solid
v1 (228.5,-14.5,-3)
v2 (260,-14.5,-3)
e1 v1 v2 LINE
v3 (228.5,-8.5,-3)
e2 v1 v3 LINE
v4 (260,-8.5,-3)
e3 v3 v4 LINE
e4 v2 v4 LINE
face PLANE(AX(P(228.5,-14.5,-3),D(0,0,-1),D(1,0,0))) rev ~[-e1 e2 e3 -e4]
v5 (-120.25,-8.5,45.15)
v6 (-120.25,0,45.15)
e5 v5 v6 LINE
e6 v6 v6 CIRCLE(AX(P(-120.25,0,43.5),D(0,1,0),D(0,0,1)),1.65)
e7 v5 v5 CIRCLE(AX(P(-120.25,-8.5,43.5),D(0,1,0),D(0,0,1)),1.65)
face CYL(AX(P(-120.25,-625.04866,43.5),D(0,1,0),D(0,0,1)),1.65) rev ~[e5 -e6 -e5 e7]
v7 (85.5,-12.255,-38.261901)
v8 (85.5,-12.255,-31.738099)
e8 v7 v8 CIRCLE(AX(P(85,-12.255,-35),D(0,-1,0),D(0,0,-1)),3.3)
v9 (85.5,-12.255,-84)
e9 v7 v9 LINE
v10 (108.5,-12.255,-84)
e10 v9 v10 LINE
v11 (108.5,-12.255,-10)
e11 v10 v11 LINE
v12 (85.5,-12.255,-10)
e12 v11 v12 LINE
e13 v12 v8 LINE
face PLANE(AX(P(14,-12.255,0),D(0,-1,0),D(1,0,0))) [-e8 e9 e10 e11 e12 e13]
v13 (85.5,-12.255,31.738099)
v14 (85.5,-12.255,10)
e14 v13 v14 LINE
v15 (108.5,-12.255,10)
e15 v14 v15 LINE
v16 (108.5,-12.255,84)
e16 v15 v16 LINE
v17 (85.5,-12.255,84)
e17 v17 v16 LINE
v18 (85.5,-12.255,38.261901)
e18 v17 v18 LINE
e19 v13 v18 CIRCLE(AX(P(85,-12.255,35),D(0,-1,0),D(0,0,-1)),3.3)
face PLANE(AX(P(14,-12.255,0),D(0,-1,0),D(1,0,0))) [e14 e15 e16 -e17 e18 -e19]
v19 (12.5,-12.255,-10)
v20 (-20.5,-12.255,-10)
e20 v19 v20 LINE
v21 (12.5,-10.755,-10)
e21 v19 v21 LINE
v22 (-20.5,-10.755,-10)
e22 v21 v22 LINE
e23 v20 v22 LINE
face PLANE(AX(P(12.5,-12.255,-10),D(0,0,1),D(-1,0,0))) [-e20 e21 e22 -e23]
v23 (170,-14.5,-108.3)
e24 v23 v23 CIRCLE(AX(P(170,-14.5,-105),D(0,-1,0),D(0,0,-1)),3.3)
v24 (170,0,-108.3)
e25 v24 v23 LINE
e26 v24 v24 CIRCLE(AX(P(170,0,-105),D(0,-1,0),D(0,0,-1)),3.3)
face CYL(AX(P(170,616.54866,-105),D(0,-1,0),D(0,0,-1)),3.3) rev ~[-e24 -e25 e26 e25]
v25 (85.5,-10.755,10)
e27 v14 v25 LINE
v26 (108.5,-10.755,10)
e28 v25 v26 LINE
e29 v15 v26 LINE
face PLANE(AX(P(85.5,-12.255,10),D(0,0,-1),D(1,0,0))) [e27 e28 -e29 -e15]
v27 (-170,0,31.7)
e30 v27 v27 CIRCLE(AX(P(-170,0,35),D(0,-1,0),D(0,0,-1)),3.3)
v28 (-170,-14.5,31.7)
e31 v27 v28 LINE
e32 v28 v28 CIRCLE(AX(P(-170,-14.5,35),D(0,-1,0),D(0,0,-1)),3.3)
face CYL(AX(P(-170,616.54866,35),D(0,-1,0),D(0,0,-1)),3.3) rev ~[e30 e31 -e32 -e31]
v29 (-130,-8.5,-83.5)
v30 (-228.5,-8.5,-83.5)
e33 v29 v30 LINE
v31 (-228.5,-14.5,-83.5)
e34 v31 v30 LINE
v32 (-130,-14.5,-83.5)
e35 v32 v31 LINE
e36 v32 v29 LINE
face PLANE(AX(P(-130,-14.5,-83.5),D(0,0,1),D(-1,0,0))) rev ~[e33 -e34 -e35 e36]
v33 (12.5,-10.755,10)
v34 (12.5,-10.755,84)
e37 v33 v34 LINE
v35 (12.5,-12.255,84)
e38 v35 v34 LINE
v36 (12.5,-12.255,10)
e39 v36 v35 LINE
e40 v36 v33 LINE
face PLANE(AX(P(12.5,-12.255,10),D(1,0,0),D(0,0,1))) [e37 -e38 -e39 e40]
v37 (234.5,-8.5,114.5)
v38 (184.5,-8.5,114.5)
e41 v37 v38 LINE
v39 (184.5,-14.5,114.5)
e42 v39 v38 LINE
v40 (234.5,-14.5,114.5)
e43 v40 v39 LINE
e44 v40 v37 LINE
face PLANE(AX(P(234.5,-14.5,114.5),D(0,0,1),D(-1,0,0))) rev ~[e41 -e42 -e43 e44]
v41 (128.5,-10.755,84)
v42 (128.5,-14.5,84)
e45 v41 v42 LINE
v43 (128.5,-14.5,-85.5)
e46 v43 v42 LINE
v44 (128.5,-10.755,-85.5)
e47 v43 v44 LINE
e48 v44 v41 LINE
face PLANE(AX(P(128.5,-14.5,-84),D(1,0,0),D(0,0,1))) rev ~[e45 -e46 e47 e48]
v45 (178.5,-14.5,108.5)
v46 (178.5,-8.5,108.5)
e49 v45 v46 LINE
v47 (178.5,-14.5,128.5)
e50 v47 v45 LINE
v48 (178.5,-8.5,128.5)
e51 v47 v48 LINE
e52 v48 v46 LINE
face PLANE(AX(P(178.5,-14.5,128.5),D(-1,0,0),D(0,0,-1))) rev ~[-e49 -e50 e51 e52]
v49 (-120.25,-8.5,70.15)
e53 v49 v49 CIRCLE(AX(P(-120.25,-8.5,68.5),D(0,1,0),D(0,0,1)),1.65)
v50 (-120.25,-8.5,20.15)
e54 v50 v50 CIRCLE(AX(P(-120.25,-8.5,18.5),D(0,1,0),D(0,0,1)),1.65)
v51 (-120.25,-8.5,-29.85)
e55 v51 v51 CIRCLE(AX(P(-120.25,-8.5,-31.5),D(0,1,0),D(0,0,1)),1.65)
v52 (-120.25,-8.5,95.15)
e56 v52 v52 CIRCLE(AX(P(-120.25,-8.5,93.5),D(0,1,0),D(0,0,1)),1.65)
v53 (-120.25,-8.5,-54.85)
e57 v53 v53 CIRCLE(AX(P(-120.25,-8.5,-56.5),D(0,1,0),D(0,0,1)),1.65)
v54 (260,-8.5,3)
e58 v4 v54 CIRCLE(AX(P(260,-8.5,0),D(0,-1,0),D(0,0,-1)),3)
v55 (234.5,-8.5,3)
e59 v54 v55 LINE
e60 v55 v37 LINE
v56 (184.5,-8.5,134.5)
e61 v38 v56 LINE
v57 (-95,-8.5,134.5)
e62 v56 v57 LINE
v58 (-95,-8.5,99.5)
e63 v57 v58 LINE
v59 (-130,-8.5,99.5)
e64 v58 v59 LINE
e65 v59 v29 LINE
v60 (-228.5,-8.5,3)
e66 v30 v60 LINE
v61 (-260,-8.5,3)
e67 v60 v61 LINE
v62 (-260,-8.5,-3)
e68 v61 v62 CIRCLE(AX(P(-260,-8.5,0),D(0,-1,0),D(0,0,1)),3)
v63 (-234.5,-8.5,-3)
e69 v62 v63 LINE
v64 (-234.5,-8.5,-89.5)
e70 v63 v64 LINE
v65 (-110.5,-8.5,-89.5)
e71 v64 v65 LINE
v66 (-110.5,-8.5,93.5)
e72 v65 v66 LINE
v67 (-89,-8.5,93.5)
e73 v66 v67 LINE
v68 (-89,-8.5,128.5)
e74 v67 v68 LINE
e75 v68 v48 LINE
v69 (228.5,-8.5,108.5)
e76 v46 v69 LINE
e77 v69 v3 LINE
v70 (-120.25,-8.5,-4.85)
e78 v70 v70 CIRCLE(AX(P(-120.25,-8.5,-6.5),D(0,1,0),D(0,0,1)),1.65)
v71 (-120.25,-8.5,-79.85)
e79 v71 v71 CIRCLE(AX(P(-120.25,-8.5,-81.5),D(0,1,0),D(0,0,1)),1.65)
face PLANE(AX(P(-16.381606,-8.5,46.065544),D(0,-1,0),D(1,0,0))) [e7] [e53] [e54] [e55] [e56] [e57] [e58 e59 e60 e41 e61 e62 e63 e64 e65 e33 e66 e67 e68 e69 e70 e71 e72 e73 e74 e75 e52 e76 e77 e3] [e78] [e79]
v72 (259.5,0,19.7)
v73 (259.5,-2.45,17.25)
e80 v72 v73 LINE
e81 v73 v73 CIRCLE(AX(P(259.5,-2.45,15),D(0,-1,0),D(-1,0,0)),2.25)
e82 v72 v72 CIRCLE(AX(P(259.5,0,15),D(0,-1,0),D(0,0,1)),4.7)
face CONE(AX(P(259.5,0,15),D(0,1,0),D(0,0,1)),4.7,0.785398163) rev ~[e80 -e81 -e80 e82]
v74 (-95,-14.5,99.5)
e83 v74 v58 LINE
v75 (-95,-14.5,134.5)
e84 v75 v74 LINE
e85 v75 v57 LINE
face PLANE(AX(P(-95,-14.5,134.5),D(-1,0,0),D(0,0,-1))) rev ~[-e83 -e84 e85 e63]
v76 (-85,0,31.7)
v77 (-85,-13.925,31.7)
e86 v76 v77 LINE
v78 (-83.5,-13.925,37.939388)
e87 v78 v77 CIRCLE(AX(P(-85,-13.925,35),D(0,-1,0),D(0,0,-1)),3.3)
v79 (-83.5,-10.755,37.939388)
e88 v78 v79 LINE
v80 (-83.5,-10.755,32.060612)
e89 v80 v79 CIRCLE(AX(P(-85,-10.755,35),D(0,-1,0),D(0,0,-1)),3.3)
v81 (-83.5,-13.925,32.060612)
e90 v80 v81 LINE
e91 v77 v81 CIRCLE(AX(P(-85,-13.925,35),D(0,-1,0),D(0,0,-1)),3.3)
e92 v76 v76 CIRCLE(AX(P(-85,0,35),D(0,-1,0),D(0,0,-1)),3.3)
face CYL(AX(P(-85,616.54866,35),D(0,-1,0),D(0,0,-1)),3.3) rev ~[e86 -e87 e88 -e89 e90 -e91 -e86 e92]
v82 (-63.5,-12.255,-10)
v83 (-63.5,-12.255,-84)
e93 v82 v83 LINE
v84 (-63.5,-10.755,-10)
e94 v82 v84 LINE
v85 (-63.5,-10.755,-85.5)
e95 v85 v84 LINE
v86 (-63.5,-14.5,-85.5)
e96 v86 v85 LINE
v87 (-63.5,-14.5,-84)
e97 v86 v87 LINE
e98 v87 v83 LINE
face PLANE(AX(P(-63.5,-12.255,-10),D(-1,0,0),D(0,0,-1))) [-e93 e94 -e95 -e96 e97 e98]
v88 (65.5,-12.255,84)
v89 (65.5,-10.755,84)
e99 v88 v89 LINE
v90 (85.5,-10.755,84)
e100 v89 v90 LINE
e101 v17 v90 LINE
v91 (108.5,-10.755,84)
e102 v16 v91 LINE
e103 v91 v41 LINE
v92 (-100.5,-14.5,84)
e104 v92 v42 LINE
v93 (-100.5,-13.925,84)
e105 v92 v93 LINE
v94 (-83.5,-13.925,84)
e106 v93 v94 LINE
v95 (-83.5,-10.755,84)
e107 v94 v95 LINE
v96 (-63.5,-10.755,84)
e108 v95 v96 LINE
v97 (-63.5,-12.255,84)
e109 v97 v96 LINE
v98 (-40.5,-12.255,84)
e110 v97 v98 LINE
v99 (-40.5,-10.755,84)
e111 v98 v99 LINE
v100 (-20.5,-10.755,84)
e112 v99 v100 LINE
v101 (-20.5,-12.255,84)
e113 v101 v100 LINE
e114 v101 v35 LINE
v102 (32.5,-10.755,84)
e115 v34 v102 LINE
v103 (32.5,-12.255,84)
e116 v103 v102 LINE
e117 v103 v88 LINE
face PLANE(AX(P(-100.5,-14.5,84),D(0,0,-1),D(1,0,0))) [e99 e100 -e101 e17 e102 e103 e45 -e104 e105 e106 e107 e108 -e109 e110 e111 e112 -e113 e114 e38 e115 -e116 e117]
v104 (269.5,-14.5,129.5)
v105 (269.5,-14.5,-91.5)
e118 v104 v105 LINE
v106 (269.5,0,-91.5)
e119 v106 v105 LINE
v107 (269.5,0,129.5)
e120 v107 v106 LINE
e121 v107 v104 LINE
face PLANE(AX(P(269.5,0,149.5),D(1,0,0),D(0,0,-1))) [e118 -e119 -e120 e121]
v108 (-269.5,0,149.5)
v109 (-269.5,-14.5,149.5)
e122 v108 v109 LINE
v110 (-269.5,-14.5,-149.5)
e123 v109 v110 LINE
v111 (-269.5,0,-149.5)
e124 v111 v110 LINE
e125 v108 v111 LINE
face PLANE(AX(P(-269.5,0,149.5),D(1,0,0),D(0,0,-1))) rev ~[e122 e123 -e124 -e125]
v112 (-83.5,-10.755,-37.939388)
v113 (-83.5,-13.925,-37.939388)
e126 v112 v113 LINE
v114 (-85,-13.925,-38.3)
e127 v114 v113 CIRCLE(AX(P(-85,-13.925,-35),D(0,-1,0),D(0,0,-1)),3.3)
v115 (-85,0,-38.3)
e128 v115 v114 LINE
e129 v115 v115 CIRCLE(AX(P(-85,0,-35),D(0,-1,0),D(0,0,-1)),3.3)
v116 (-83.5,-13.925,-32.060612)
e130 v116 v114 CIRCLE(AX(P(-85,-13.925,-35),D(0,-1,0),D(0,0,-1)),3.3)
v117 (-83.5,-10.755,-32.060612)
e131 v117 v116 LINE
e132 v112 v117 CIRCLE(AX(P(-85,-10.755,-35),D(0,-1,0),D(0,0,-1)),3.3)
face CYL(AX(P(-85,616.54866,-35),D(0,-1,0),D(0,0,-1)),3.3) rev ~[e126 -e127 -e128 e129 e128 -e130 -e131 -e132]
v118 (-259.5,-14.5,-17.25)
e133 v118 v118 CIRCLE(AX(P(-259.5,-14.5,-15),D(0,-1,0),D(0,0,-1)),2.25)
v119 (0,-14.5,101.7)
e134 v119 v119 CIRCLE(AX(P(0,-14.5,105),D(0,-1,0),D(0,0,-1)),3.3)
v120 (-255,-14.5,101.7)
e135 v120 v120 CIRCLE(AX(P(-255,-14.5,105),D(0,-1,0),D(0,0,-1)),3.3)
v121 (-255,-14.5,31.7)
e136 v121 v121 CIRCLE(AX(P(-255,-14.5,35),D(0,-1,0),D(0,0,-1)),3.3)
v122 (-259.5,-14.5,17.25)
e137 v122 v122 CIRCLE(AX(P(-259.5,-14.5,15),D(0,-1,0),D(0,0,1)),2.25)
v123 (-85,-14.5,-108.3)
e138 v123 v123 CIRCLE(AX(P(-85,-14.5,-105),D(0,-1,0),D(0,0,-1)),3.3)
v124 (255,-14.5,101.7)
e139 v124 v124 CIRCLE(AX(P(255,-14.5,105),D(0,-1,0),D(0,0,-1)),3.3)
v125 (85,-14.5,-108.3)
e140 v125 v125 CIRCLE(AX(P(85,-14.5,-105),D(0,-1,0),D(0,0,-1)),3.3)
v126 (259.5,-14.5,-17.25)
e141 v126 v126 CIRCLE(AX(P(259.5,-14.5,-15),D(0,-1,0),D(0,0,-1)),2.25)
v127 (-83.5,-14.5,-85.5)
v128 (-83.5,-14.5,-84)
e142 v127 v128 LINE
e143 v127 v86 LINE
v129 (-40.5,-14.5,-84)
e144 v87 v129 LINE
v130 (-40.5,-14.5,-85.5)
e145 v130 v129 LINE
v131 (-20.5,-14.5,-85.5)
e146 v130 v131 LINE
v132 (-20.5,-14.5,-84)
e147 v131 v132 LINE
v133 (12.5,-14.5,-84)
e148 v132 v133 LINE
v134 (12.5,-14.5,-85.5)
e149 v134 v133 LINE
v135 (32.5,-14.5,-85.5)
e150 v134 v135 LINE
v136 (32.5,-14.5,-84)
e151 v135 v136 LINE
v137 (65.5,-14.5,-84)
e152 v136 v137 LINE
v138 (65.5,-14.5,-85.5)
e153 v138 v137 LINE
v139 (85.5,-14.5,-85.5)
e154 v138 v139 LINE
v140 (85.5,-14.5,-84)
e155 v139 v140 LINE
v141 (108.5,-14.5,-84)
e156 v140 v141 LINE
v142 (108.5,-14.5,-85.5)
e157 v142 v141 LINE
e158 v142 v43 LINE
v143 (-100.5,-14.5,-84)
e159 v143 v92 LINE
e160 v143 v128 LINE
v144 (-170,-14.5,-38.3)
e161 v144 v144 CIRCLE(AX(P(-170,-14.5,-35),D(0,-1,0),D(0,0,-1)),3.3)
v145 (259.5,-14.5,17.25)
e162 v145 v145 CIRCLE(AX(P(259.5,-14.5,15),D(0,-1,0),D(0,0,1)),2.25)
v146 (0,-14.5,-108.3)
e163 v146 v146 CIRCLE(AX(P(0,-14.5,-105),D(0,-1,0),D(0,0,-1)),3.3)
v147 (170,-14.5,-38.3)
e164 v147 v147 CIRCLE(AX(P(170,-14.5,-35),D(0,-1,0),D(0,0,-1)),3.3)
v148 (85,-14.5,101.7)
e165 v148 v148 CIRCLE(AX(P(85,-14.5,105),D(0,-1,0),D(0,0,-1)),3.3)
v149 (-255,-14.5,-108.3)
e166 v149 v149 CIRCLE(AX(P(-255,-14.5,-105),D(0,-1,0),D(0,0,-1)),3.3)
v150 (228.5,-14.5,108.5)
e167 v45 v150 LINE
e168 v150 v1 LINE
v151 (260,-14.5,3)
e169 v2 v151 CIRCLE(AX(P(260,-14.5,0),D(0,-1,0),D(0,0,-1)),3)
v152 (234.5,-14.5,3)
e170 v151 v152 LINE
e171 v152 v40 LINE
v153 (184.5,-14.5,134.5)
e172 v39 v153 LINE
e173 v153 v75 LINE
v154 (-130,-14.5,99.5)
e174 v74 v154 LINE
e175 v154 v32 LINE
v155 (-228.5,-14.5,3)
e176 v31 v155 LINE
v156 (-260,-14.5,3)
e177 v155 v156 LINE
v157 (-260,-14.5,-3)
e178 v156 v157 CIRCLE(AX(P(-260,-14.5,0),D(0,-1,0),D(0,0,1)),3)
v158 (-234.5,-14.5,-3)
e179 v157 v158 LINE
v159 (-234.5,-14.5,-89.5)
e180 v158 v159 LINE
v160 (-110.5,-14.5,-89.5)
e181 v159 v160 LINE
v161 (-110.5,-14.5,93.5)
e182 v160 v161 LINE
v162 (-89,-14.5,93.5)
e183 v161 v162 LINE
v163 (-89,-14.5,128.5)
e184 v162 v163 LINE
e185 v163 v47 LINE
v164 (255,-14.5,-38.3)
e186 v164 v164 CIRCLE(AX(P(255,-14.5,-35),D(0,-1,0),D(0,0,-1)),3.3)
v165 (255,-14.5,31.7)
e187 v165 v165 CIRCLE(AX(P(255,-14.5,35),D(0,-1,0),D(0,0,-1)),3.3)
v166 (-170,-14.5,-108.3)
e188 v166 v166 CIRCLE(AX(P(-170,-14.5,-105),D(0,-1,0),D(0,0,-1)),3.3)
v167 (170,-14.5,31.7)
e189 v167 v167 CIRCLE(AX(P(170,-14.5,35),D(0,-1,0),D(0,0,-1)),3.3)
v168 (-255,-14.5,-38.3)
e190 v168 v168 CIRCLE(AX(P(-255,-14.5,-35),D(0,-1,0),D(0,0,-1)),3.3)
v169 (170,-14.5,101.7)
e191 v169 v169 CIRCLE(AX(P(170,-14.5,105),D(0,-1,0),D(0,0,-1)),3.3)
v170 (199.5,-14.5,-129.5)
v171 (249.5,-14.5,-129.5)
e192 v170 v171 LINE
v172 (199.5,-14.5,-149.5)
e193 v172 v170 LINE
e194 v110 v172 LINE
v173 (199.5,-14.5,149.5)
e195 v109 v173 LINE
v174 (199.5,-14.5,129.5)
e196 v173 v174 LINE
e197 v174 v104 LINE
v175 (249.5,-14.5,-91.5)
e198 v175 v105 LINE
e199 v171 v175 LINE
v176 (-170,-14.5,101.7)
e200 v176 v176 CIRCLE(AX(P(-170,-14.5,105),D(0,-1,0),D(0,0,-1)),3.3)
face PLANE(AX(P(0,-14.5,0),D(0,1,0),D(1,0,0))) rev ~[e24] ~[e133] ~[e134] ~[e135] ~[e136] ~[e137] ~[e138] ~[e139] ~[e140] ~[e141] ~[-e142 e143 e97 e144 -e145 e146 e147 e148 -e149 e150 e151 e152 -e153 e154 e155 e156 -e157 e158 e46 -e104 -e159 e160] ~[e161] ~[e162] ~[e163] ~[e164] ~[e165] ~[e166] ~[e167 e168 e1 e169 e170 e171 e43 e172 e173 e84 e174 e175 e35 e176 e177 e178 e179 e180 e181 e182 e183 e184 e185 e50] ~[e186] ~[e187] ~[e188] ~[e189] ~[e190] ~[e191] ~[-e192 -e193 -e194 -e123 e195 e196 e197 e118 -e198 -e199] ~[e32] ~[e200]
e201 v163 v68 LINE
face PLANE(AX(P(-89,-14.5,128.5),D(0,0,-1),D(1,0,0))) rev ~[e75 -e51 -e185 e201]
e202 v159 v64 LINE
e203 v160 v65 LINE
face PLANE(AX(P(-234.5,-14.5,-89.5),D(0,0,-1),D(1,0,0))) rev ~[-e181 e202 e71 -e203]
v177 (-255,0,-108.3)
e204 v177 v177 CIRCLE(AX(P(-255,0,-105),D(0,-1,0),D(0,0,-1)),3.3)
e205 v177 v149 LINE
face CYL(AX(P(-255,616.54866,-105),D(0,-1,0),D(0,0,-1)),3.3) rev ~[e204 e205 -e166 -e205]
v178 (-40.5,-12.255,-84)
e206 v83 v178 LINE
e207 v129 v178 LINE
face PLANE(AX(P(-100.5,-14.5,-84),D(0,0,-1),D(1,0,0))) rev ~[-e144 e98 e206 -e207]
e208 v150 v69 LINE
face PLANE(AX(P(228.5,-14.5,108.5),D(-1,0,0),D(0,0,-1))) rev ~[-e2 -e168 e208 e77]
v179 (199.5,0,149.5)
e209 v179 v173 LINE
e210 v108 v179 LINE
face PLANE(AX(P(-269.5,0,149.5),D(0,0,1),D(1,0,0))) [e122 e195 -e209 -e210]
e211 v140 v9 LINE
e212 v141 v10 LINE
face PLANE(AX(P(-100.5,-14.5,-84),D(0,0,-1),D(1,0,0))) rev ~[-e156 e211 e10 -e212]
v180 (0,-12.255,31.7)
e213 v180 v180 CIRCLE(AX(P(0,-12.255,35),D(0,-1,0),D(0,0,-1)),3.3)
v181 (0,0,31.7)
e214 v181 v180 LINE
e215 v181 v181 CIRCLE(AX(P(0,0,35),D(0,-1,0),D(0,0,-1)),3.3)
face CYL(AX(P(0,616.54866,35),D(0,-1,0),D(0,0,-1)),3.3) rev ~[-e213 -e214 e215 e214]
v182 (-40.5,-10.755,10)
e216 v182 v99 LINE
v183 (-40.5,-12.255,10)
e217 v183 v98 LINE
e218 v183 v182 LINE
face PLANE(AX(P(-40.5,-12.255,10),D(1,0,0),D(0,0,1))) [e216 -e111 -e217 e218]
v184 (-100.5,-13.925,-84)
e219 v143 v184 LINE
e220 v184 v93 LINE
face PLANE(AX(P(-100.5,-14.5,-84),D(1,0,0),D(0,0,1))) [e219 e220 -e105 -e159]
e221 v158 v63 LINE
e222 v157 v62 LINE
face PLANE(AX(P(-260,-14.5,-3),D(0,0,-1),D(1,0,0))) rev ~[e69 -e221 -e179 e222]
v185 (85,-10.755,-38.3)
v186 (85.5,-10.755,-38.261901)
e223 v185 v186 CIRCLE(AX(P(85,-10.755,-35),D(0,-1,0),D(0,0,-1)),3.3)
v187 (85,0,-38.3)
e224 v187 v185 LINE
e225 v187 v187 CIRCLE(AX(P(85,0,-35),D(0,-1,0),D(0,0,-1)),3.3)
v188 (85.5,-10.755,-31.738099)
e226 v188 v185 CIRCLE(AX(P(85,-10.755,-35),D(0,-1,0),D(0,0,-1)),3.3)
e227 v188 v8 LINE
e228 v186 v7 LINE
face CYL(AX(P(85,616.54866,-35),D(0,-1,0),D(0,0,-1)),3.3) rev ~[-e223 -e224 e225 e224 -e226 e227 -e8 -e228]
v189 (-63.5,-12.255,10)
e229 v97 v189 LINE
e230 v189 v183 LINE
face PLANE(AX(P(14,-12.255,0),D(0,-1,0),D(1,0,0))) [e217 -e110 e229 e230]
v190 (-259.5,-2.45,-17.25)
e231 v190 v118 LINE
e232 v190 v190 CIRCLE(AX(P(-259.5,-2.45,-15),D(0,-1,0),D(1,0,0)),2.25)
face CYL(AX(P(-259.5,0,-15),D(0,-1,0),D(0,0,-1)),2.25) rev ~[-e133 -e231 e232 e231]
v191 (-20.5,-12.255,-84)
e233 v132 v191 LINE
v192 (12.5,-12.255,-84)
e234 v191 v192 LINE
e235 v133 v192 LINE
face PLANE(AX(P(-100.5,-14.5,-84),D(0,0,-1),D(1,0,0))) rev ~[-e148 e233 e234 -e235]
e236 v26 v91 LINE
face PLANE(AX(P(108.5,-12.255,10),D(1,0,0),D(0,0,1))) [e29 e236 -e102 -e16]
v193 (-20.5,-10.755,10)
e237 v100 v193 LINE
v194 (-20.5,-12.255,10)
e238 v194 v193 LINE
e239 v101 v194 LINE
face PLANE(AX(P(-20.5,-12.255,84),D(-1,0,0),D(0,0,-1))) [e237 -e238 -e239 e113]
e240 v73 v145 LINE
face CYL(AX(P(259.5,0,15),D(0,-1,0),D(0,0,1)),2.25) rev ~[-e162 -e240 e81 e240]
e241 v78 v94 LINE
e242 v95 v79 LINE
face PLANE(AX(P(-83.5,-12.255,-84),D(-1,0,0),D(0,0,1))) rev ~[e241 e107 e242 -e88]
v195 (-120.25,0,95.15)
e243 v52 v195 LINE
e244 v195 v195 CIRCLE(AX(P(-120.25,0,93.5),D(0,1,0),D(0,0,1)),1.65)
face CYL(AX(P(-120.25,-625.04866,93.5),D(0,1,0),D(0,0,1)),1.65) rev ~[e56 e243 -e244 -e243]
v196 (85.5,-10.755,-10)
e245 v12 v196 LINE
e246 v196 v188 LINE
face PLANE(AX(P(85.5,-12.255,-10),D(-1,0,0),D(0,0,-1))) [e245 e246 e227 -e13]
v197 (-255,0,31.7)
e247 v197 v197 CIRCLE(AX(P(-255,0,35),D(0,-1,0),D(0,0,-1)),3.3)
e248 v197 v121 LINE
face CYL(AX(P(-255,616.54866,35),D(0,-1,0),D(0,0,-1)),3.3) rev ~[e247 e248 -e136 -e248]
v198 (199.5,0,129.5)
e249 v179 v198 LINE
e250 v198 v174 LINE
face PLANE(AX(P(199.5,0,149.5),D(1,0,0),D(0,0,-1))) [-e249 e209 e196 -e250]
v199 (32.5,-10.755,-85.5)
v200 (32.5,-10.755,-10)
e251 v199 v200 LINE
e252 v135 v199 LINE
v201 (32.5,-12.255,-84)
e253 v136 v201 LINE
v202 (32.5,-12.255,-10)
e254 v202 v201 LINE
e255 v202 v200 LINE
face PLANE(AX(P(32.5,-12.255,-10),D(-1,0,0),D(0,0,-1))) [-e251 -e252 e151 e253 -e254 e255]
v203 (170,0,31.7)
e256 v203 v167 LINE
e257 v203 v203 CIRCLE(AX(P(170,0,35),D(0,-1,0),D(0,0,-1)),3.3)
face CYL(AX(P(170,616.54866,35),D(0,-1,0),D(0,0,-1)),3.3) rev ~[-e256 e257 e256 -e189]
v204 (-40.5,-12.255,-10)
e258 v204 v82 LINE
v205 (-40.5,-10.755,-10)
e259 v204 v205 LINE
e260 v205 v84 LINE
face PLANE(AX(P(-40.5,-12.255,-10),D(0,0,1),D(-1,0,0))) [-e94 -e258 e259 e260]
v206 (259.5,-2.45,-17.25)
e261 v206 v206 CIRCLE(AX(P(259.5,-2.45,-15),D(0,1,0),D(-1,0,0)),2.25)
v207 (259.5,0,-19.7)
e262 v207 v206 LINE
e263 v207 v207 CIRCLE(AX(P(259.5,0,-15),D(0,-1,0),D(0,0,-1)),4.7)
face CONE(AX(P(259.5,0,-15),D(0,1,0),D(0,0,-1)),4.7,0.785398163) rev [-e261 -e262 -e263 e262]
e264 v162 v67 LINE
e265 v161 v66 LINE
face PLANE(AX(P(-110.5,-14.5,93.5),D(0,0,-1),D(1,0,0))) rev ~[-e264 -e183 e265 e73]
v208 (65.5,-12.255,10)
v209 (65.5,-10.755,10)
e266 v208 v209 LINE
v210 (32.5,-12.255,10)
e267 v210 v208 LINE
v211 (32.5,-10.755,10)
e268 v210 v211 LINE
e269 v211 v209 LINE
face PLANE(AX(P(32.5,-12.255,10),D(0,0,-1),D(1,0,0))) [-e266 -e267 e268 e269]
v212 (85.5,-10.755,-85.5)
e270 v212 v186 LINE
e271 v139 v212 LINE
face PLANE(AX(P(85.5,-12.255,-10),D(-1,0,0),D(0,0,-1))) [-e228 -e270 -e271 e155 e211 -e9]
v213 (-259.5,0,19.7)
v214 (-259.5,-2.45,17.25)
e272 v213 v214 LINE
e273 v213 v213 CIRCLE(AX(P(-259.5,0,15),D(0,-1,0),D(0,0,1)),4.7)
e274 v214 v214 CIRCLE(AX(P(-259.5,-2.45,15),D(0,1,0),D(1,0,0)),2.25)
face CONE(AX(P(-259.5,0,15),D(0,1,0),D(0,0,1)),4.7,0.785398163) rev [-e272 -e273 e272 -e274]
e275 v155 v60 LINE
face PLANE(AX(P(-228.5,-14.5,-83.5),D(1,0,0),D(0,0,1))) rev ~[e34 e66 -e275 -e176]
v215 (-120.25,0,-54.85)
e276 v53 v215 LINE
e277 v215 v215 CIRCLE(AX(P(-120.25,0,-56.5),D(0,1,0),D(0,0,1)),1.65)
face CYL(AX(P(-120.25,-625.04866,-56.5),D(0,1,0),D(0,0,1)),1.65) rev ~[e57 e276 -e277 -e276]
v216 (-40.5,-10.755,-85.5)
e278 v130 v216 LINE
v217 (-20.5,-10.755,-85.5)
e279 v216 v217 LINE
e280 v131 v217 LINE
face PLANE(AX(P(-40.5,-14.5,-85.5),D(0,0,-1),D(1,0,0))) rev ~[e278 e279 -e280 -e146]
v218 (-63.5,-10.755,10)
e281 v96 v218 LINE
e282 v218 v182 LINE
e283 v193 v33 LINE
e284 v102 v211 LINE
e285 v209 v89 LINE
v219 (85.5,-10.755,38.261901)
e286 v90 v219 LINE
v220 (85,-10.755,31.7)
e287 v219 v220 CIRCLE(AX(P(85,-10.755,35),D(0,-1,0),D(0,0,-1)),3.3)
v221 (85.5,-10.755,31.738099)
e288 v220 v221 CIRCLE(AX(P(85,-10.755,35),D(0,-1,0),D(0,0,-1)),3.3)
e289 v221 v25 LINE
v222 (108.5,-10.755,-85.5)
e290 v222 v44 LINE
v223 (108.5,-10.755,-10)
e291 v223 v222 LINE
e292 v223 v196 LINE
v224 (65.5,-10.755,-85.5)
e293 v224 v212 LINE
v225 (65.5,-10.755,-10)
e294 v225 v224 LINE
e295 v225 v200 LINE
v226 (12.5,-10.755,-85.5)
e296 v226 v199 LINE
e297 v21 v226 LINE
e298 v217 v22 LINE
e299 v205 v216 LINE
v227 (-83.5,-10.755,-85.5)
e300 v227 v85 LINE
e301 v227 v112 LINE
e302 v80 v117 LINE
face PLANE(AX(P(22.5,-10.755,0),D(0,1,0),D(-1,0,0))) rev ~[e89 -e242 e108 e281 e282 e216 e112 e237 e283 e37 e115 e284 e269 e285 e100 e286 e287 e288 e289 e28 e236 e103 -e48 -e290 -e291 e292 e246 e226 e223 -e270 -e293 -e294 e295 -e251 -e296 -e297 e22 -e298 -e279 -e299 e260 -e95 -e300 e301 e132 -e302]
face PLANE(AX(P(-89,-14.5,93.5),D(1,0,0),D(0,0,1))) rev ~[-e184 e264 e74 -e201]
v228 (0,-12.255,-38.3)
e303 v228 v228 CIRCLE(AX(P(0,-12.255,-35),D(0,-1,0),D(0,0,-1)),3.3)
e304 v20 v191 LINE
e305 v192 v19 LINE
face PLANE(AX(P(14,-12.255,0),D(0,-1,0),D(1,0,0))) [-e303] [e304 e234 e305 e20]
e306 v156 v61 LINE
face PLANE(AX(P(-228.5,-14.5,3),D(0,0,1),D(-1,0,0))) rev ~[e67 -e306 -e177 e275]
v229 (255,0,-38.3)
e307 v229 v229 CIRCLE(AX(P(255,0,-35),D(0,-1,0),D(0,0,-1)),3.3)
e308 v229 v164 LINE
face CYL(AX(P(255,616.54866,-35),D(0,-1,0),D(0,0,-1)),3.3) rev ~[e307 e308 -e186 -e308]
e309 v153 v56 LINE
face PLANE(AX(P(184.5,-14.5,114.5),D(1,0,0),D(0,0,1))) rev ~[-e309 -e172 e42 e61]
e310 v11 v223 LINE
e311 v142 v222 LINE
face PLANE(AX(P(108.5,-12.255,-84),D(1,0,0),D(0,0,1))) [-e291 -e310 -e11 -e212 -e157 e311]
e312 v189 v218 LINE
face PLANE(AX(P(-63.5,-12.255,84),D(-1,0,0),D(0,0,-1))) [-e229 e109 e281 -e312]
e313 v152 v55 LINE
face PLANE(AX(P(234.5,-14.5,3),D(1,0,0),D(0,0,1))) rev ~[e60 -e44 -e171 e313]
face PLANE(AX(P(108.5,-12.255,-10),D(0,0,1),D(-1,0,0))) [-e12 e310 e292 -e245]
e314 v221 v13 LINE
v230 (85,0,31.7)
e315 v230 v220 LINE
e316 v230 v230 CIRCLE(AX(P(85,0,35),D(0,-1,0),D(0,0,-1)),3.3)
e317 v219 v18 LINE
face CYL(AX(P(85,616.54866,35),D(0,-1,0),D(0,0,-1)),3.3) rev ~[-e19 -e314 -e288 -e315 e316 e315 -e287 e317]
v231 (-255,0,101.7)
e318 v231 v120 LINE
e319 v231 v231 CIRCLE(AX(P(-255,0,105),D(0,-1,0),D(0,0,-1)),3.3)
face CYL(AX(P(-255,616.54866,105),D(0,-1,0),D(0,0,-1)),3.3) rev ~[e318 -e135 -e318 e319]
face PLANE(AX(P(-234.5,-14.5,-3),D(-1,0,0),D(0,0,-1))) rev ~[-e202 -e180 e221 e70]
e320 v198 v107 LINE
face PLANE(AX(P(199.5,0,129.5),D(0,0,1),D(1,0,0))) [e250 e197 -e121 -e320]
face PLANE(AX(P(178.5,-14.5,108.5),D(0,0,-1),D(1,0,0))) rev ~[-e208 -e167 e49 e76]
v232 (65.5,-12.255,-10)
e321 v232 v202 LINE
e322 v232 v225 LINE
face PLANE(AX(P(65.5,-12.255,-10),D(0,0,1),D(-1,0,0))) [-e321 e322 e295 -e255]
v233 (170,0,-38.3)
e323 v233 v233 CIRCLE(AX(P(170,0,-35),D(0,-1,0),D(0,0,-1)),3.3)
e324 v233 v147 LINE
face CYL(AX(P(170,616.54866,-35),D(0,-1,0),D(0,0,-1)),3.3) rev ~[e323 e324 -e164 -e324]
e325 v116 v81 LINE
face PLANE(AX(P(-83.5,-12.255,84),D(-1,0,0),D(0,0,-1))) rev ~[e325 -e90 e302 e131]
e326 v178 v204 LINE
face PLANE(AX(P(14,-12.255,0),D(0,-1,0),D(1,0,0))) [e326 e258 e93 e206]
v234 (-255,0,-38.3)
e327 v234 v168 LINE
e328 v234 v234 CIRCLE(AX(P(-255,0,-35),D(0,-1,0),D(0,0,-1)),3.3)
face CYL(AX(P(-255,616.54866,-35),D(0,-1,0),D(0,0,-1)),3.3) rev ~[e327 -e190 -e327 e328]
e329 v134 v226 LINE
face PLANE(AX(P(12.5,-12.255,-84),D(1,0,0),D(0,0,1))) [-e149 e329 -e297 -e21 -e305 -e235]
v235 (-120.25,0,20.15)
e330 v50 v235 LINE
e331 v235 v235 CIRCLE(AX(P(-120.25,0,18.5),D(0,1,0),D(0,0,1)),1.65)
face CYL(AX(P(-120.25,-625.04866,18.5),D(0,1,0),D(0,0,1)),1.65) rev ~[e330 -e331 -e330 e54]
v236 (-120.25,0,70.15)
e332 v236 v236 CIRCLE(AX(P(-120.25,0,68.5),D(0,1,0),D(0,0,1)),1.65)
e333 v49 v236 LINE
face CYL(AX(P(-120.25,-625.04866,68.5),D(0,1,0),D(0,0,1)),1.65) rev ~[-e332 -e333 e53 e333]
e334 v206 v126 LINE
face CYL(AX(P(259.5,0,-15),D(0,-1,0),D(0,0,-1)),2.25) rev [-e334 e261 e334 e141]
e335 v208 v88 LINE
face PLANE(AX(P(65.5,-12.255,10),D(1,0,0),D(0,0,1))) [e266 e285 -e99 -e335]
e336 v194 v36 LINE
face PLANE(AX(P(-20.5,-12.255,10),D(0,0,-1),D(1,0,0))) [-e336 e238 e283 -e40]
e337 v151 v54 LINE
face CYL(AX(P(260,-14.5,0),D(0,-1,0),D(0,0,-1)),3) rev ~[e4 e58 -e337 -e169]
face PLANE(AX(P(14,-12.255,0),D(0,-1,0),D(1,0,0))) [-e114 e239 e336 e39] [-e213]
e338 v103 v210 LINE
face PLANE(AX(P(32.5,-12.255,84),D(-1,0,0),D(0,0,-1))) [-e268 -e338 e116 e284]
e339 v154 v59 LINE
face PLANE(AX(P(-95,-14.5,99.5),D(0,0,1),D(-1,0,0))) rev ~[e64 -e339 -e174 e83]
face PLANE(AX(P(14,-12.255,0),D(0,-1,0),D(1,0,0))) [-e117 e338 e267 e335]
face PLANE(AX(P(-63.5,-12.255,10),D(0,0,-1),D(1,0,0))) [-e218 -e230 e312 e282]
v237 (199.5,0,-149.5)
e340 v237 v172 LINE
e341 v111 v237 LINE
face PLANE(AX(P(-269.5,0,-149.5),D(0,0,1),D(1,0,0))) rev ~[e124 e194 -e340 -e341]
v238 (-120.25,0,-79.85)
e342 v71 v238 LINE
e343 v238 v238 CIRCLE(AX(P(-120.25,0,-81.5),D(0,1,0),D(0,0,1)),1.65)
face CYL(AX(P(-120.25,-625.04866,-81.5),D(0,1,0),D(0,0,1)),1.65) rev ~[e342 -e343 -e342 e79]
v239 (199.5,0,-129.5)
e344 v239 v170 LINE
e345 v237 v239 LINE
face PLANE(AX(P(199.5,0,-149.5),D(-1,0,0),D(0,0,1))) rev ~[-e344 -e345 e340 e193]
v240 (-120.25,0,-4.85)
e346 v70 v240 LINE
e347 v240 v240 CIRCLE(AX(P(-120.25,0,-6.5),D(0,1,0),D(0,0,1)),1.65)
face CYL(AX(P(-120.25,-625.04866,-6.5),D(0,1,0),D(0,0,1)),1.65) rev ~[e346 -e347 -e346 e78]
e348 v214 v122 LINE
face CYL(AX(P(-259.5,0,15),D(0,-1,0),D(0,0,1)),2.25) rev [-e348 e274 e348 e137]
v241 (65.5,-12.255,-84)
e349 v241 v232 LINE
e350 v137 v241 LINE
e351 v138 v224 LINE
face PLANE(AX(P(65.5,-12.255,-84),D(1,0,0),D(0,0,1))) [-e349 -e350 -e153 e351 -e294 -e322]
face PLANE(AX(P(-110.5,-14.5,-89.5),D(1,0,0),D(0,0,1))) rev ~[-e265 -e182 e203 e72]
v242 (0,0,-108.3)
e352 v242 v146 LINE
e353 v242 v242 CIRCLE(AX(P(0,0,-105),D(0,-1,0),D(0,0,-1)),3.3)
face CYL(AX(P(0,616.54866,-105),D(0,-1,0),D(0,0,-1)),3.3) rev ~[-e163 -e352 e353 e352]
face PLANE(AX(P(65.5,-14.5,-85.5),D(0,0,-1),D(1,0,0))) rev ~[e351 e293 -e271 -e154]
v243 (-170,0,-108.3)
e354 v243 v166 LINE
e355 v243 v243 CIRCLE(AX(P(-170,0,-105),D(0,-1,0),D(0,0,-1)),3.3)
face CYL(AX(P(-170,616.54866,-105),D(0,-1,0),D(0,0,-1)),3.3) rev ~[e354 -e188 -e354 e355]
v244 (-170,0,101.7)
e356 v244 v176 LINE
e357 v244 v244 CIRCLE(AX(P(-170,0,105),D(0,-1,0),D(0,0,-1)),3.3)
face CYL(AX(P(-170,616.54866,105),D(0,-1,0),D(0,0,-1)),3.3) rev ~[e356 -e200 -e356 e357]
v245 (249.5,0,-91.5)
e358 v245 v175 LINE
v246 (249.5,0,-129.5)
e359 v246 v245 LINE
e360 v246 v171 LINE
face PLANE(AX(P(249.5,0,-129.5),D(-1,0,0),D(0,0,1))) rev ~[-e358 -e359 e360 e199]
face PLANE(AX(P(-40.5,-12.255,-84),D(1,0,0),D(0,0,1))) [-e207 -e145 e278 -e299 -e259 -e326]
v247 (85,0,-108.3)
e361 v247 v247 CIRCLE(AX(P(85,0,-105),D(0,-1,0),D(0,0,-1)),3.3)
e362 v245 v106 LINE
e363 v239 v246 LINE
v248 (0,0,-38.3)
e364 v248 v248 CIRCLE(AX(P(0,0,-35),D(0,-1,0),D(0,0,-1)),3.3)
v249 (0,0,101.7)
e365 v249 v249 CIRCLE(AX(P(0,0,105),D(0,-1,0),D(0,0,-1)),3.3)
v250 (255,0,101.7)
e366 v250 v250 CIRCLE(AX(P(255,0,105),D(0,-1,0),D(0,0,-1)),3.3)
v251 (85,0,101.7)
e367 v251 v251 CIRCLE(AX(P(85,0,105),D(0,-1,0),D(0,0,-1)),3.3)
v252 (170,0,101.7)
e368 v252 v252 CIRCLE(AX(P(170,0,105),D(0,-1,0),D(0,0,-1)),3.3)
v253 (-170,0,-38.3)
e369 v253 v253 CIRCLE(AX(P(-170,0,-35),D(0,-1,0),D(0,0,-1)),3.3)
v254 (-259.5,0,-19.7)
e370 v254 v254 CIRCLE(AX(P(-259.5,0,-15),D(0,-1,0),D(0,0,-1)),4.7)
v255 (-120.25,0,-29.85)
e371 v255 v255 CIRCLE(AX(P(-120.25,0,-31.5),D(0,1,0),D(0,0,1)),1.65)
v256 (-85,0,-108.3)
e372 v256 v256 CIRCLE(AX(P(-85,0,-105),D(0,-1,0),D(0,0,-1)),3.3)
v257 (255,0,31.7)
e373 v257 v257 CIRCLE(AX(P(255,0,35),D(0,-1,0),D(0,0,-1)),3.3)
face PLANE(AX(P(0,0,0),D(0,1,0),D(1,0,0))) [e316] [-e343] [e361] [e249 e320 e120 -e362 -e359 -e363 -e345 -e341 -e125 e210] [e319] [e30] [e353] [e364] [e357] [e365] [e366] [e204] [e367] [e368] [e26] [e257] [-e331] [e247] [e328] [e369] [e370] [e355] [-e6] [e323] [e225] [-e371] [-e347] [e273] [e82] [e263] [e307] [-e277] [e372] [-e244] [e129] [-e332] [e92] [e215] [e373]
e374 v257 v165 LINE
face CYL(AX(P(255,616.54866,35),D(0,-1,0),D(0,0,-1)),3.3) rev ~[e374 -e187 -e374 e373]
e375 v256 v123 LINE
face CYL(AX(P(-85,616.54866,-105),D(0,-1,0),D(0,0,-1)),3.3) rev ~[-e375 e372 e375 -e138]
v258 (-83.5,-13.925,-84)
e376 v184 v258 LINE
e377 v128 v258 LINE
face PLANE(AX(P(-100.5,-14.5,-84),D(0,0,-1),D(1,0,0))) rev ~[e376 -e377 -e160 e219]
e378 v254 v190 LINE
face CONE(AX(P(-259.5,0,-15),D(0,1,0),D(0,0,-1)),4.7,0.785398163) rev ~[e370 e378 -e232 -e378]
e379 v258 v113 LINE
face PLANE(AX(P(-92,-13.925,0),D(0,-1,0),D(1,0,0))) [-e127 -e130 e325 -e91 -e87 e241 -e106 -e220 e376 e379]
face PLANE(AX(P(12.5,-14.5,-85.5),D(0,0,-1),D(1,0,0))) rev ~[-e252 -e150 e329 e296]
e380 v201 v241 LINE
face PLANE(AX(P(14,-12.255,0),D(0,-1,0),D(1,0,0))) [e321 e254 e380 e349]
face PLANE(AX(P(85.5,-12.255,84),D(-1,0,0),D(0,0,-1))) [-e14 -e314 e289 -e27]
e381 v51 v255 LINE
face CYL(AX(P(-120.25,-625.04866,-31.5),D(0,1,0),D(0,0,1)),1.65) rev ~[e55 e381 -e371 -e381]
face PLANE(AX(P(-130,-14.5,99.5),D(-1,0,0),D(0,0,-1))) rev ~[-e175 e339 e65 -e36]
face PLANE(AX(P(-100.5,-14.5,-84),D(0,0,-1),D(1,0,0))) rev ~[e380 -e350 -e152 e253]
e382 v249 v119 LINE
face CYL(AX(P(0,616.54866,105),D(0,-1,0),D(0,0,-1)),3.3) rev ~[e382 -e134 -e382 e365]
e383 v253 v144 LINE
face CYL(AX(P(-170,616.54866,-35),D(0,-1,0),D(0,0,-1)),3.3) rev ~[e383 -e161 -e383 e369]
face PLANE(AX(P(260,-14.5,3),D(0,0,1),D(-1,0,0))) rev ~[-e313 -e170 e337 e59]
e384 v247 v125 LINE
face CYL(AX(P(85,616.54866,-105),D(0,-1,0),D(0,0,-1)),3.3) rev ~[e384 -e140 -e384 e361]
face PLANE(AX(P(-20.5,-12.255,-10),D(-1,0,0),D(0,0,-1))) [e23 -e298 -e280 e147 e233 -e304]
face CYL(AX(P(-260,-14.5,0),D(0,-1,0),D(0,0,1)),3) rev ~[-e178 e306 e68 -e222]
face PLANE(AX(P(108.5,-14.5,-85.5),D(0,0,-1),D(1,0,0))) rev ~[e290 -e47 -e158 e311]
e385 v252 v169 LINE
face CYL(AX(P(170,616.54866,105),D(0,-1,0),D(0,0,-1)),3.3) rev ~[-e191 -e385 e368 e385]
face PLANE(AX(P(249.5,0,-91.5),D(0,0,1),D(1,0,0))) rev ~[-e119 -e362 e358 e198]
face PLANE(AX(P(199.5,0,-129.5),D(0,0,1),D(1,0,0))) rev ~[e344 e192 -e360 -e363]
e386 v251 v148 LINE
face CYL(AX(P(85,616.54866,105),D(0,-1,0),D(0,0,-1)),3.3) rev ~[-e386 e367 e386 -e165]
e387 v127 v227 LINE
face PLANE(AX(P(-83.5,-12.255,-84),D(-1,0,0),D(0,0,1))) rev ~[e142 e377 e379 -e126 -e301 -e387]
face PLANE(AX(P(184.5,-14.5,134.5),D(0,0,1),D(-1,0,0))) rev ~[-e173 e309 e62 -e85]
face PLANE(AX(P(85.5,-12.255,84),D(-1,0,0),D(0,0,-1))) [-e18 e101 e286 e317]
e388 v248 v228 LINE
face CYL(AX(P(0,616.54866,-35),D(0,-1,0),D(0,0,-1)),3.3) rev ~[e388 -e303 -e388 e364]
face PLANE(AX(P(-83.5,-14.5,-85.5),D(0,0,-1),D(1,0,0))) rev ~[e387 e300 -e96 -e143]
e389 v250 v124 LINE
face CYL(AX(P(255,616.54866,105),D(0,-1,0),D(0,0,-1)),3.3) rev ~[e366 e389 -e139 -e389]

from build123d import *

# Parameters (mm, degrees)
SKETCH1_W                                     = 539
SKETCH1_H                                     = 299
BOSS_EXTRUDE1_DEPTH                           = 14.5
SKETCH22_W                                    = 70
SKETCH22_H                                    = 20
CUT_EXTRUDE9_DEPTH                            = 309.529982336
CUT_EXTRUDE1_DEPTH                            = 6
CSK_FOR_M4_COUNTERSUNK_FLAT_HEAD1_D           = 4.5
CSK_FOR_M4_COUNTERSUNK_FLAT_HEAD1_CSINK_D     = 9.4
CSK_FOR_M4_COUNTERSUNK_FLAT_HEAD1_CSINK_ANGLE = 90
MIRROR2_COPY_1_D                              = 4.5
MIRROR2_COPY_1_CSINK_D                        = 9.4
MIRROR2_COPY_1_CSINK_ANGLE                    = 90
SKETCH11_W                                    = 229
SKETCH11_H                                    = 168
CUT_EXTRUDE4_DEPTH                            = 2.245
SKETCH12_W                                    = 17
SKETCH12_H                                    = 168
BOSS_EXTRUDE2_DEPTH                           = 1.67
M6_CLEARANCE_HOLE1_D                          = 6.6
M4X0_7_TAPPED_HOLE1_D                         = 3.3
LPATTERN1_COUNT                               = 8
LPATTERN1_PITCH                               = 25
CUT_EXTRUDE5_DEPTH                            = 1.5
SKETCH21_W                                    = 20
SKETCH21_H                                    = 1.5
CUT_EXTRUDE8_DEPTH                            = 3.745


with BuildPart() as part:
    # Sketch1 → Boss-Extrude1 (new body)
    with BuildSketch(Plane(origin=(0, 0, 0), x_dir=(1, 0, 0), z_dir=(0, 1, 0))):
        Rectangle(SKETCH1_W, SKETCH1_H)
    extrude(amount=-BOSS_EXTRUDE1_DEPTH)

    # Sketch22 → Cut-Extrude9 (cut, through all)
    with BuildSketch(Plane(origin=(0, 0, 0), x_dir=(1, 0, 0), z_dir=(0, 1, 0))):
        Polygon((269.5, 149.5), (199.5, 149.5), (199.5, 129.5), (249.5, 129.5), (249.5, 91.5), (269.5, 91.5), align=None)
        with Locations((234.5, -139.5)):
            Rectangle(SKETCH22_W, SKETCH22_H)
    extrude(amount=-CUT_EXTRUDE9_DEPTH, mode=Mode.SUBTRACT)

    # Sketch2 → Cut-Extrude1 (cut)
    with BuildSketch(Plane.XZ.offset(14.5)):
        with BuildLine():
            Line((-234.5, -3), (-234.5, -89.5))
            Line((-234.5, -89.5), (-110.5, -89.5))
            Line((-110.5, -89.5), (-110.5, 93.5))
            Line((-110.5, 93.5), (-89, 93.5))
            Line((-89, 93.5), (-89, 128.5))
            Line((-89, 128.5), (178.5, 128.5))
            Line((178.5, 128.5), (178.5, 108.5))
            Line((178.5, 108.5), (228.5, 108.5))
            Line((228.5, 108.5), (228.5, -3))
            Line((228.5, -3), (260, -3))
            ThreePointArc((260, -3), (263, 0), (260, 3))
            Line((260, 3), (234.5, 3))
            Line((234.5, 3), (234.5, 114.5))
            Line((234.5, 114.5), (184.5, 114.5))
            Line((184.5, 114.5), (184.5, 134.5))
            Line((184.5, 134.5), (-95, 134.5))
            Line((-95, 134.5), (-95, 99.5))
            Line((-95, 99.5), (-130, 99.5))
            Line((-130, 99.5), (-130, -83.5))
            Line((-130, -83.5), (-228.5, -83.5))
            Line((-228.5, -83.5), (-228.5, 3))
            Line((-228.5, 3), (-260, 3))
            ThreePointArc((-260, 3), (-263, 0), (-260, -3))
            Line((-260, -3), (-234.5, -3))
        make_face()
    extrude(amount=-CUT_EXTRUDE1_DEPTH, mode=Mode.SUBTRACT)

    # CSK for M4 Countersunk Flat Head1 (through all)
    with Locations(Plane(origin=(-259.5, 0, -15), x_dir=(0, 0, 1), z_dir=(0, 1, 0))):
        with Locations((0, 0)):
            csk_for_m4_countersunk_flat_head1 = CounterSinkHole(CSK_FOR_M4_COUNTERSUNK_FLAT_HEAD1_D / 2, CSK_FOR_M4_COUNTERSUNK_FLAT_HEAD1_CSINK_D / 2, counter_sink_angle=CSK_FOR_M4_COUNTERSUNK_FLAT_HEAD1_CSINK_ANGLE)

    # Mirror1: CSK for M4 Countersunk Flat Head1 across plane
    add(csk_for_m4_countersunk_flat_head1.mirror(Plane.XY), mode=Mode.SUBTRACT)

    # Mirror2: CSK for M4 Countersunk Flat Head1 across plane
    add(csk_for_m4_countersunk_flat_head1.mirror(Plane(origin=(0, 0, 0), x_dir=(0, 0, 1), z_dir=(1, 0, 0))), mode=Mode.SUBTRACT)

    # Mirror2 copy 1 (through all)
    with Locations(Plane(origin=(259.5, 0, 15), x_dir=(0, 0, -1), z_dir=(0, 1, 0))):
        with Locations((0, 0)):
            CounterSinkHole(MIRROR2_COPY_1_D / 2, MIRROR2_COPY_1_CSINK_D / 2, counter_sink_angle=MIRROR2_COPY_1_CSINK_ANGLE)

    # Sketch11 → Cut-Extrude4 (cut)
    with BuildSketch(Plane.XZ.offset(14.5)):
        with Locations((14, 0)):
            Rectangle(SKETCH11_W, SKETCH11_H)
    extrude(amount=-CUT_EXTRUDE4_DEPTH, mode=Mode.SUBTRACT)

    # Sketch12 → Boss-Extrude2 (add)
    with BuildSketch(Plane.XZ.offset(12.255)):
        with Locations((-92, 0)):
            Rectangle(SKETCH12_W, SKETCH12_H)
    extrude(amount=BOSS_EXTRUDE2_DEPTH)

    # M6 Clearance Hole1 (through all)
    with Locations(Plane(origin=(-255, 0, -105), x_dir=(0, 0, 1), z_dir=(0, 1, 0))):
        with Locations((0, 0), (70, 0), (140, 0), (210, 0), (210, 85), (140, 85), (70, 85), (0, 85), (0, 170), (0, 255), (0, 340), (0, 425), (70, 510), (140, 510), (210, 510), (210, 425), (140, 425), (70, 425), (210, 340), (210, 255), (140, 255), (70, 255), (70, 340), (140, 340), (140, 170), (70, 170)):
            Hole(M6_CLEARANCE_HOLE1_D / 2)

    # M4x0.7 Tapped Hole1 (through all)
    with Locations(Plane(origin=(-120.25, -8.5, -81.5), x_dir=(0, 0, -1), z_dir=(0, -1, 0))):
        with Locations((0, 0)):
            m4x0_7_tapped_hole1 = Hole(M4X0_7_TAPPED_HOLE1_D / 2)

    # LPattern1: M4x0.7 Tapped Hole1 ×8
    with Locations(*[(0, 0, i * LPATTERN1_PITCH) for i in range(1, LPATTERN1_COUNT)]):
        add(m4x0_7_tapped_hole1, mode=Mode.SUBTRACT)

    # Sketch20 → Cut-Extrude5 (cut)
    with BuildSketch(Plane.XZ.offset(12.255)):
        Polygon((-63.5, -84), (-83.5, -84), (-83.5, -10), (-83.5, 10), (-83.5, 84), (-63.5, 84), (-63.5, 10), (-40.5, 10), (-40.5, 84), (-20.5, 84), (-20.5, 10), (12.5, 10), (12.5, 84), (32.5, 84), (32.5, 10), (65.5, 10), (65.5, 84), (85.5, 84), (85.5, 10), (108.5, 10), (108.5, 84), (128.5, 84), (128.5, -84), (108.5, -84), (108.5, -10), (85.5, -10), (85.5, -84), (65.5, -84), (65.5, -10), (32.5, -10), (32.5, -84), (12.5, -84), (12.5, -10), (-20.5, -10), (-20.5, -84), (-40.5, -84), (-40.5, -10), (-63.5, -10), align=None)
    extrude(amount=-CUT_EXTRUDE5_DEPTH, mode=Mode.SUBTRACT)

    # Sketch21 → Cut-Extrude8 (cut)
    with BuildSketch(Plane.XZ.offset(14.5)):
        with Locations((-73.5, -84.75)):
            Rectangle(SKETCH21_W, SKETCH21_H)
        with Locations((-30.5, -84.75)):
            Rectangle(SKETCH21_W, SKETCH21_H)
        with Locations((22.5, -84.75)):
            Rectangle(SKETCH21_W, SKETCH21_H)
        with Locations((75.5, -84.75)):
            Rectangle(SKETCH21_W, SKETCH21_H)
        with Locations((118.5, -84.75)):
            Rectangle(SKETCH21_W, SKETCH21_H)
    extrude(amount=-CUT_EXTRUDE8_DEPTH, mode=Mode.SUBTRACT)


solid = part.part
